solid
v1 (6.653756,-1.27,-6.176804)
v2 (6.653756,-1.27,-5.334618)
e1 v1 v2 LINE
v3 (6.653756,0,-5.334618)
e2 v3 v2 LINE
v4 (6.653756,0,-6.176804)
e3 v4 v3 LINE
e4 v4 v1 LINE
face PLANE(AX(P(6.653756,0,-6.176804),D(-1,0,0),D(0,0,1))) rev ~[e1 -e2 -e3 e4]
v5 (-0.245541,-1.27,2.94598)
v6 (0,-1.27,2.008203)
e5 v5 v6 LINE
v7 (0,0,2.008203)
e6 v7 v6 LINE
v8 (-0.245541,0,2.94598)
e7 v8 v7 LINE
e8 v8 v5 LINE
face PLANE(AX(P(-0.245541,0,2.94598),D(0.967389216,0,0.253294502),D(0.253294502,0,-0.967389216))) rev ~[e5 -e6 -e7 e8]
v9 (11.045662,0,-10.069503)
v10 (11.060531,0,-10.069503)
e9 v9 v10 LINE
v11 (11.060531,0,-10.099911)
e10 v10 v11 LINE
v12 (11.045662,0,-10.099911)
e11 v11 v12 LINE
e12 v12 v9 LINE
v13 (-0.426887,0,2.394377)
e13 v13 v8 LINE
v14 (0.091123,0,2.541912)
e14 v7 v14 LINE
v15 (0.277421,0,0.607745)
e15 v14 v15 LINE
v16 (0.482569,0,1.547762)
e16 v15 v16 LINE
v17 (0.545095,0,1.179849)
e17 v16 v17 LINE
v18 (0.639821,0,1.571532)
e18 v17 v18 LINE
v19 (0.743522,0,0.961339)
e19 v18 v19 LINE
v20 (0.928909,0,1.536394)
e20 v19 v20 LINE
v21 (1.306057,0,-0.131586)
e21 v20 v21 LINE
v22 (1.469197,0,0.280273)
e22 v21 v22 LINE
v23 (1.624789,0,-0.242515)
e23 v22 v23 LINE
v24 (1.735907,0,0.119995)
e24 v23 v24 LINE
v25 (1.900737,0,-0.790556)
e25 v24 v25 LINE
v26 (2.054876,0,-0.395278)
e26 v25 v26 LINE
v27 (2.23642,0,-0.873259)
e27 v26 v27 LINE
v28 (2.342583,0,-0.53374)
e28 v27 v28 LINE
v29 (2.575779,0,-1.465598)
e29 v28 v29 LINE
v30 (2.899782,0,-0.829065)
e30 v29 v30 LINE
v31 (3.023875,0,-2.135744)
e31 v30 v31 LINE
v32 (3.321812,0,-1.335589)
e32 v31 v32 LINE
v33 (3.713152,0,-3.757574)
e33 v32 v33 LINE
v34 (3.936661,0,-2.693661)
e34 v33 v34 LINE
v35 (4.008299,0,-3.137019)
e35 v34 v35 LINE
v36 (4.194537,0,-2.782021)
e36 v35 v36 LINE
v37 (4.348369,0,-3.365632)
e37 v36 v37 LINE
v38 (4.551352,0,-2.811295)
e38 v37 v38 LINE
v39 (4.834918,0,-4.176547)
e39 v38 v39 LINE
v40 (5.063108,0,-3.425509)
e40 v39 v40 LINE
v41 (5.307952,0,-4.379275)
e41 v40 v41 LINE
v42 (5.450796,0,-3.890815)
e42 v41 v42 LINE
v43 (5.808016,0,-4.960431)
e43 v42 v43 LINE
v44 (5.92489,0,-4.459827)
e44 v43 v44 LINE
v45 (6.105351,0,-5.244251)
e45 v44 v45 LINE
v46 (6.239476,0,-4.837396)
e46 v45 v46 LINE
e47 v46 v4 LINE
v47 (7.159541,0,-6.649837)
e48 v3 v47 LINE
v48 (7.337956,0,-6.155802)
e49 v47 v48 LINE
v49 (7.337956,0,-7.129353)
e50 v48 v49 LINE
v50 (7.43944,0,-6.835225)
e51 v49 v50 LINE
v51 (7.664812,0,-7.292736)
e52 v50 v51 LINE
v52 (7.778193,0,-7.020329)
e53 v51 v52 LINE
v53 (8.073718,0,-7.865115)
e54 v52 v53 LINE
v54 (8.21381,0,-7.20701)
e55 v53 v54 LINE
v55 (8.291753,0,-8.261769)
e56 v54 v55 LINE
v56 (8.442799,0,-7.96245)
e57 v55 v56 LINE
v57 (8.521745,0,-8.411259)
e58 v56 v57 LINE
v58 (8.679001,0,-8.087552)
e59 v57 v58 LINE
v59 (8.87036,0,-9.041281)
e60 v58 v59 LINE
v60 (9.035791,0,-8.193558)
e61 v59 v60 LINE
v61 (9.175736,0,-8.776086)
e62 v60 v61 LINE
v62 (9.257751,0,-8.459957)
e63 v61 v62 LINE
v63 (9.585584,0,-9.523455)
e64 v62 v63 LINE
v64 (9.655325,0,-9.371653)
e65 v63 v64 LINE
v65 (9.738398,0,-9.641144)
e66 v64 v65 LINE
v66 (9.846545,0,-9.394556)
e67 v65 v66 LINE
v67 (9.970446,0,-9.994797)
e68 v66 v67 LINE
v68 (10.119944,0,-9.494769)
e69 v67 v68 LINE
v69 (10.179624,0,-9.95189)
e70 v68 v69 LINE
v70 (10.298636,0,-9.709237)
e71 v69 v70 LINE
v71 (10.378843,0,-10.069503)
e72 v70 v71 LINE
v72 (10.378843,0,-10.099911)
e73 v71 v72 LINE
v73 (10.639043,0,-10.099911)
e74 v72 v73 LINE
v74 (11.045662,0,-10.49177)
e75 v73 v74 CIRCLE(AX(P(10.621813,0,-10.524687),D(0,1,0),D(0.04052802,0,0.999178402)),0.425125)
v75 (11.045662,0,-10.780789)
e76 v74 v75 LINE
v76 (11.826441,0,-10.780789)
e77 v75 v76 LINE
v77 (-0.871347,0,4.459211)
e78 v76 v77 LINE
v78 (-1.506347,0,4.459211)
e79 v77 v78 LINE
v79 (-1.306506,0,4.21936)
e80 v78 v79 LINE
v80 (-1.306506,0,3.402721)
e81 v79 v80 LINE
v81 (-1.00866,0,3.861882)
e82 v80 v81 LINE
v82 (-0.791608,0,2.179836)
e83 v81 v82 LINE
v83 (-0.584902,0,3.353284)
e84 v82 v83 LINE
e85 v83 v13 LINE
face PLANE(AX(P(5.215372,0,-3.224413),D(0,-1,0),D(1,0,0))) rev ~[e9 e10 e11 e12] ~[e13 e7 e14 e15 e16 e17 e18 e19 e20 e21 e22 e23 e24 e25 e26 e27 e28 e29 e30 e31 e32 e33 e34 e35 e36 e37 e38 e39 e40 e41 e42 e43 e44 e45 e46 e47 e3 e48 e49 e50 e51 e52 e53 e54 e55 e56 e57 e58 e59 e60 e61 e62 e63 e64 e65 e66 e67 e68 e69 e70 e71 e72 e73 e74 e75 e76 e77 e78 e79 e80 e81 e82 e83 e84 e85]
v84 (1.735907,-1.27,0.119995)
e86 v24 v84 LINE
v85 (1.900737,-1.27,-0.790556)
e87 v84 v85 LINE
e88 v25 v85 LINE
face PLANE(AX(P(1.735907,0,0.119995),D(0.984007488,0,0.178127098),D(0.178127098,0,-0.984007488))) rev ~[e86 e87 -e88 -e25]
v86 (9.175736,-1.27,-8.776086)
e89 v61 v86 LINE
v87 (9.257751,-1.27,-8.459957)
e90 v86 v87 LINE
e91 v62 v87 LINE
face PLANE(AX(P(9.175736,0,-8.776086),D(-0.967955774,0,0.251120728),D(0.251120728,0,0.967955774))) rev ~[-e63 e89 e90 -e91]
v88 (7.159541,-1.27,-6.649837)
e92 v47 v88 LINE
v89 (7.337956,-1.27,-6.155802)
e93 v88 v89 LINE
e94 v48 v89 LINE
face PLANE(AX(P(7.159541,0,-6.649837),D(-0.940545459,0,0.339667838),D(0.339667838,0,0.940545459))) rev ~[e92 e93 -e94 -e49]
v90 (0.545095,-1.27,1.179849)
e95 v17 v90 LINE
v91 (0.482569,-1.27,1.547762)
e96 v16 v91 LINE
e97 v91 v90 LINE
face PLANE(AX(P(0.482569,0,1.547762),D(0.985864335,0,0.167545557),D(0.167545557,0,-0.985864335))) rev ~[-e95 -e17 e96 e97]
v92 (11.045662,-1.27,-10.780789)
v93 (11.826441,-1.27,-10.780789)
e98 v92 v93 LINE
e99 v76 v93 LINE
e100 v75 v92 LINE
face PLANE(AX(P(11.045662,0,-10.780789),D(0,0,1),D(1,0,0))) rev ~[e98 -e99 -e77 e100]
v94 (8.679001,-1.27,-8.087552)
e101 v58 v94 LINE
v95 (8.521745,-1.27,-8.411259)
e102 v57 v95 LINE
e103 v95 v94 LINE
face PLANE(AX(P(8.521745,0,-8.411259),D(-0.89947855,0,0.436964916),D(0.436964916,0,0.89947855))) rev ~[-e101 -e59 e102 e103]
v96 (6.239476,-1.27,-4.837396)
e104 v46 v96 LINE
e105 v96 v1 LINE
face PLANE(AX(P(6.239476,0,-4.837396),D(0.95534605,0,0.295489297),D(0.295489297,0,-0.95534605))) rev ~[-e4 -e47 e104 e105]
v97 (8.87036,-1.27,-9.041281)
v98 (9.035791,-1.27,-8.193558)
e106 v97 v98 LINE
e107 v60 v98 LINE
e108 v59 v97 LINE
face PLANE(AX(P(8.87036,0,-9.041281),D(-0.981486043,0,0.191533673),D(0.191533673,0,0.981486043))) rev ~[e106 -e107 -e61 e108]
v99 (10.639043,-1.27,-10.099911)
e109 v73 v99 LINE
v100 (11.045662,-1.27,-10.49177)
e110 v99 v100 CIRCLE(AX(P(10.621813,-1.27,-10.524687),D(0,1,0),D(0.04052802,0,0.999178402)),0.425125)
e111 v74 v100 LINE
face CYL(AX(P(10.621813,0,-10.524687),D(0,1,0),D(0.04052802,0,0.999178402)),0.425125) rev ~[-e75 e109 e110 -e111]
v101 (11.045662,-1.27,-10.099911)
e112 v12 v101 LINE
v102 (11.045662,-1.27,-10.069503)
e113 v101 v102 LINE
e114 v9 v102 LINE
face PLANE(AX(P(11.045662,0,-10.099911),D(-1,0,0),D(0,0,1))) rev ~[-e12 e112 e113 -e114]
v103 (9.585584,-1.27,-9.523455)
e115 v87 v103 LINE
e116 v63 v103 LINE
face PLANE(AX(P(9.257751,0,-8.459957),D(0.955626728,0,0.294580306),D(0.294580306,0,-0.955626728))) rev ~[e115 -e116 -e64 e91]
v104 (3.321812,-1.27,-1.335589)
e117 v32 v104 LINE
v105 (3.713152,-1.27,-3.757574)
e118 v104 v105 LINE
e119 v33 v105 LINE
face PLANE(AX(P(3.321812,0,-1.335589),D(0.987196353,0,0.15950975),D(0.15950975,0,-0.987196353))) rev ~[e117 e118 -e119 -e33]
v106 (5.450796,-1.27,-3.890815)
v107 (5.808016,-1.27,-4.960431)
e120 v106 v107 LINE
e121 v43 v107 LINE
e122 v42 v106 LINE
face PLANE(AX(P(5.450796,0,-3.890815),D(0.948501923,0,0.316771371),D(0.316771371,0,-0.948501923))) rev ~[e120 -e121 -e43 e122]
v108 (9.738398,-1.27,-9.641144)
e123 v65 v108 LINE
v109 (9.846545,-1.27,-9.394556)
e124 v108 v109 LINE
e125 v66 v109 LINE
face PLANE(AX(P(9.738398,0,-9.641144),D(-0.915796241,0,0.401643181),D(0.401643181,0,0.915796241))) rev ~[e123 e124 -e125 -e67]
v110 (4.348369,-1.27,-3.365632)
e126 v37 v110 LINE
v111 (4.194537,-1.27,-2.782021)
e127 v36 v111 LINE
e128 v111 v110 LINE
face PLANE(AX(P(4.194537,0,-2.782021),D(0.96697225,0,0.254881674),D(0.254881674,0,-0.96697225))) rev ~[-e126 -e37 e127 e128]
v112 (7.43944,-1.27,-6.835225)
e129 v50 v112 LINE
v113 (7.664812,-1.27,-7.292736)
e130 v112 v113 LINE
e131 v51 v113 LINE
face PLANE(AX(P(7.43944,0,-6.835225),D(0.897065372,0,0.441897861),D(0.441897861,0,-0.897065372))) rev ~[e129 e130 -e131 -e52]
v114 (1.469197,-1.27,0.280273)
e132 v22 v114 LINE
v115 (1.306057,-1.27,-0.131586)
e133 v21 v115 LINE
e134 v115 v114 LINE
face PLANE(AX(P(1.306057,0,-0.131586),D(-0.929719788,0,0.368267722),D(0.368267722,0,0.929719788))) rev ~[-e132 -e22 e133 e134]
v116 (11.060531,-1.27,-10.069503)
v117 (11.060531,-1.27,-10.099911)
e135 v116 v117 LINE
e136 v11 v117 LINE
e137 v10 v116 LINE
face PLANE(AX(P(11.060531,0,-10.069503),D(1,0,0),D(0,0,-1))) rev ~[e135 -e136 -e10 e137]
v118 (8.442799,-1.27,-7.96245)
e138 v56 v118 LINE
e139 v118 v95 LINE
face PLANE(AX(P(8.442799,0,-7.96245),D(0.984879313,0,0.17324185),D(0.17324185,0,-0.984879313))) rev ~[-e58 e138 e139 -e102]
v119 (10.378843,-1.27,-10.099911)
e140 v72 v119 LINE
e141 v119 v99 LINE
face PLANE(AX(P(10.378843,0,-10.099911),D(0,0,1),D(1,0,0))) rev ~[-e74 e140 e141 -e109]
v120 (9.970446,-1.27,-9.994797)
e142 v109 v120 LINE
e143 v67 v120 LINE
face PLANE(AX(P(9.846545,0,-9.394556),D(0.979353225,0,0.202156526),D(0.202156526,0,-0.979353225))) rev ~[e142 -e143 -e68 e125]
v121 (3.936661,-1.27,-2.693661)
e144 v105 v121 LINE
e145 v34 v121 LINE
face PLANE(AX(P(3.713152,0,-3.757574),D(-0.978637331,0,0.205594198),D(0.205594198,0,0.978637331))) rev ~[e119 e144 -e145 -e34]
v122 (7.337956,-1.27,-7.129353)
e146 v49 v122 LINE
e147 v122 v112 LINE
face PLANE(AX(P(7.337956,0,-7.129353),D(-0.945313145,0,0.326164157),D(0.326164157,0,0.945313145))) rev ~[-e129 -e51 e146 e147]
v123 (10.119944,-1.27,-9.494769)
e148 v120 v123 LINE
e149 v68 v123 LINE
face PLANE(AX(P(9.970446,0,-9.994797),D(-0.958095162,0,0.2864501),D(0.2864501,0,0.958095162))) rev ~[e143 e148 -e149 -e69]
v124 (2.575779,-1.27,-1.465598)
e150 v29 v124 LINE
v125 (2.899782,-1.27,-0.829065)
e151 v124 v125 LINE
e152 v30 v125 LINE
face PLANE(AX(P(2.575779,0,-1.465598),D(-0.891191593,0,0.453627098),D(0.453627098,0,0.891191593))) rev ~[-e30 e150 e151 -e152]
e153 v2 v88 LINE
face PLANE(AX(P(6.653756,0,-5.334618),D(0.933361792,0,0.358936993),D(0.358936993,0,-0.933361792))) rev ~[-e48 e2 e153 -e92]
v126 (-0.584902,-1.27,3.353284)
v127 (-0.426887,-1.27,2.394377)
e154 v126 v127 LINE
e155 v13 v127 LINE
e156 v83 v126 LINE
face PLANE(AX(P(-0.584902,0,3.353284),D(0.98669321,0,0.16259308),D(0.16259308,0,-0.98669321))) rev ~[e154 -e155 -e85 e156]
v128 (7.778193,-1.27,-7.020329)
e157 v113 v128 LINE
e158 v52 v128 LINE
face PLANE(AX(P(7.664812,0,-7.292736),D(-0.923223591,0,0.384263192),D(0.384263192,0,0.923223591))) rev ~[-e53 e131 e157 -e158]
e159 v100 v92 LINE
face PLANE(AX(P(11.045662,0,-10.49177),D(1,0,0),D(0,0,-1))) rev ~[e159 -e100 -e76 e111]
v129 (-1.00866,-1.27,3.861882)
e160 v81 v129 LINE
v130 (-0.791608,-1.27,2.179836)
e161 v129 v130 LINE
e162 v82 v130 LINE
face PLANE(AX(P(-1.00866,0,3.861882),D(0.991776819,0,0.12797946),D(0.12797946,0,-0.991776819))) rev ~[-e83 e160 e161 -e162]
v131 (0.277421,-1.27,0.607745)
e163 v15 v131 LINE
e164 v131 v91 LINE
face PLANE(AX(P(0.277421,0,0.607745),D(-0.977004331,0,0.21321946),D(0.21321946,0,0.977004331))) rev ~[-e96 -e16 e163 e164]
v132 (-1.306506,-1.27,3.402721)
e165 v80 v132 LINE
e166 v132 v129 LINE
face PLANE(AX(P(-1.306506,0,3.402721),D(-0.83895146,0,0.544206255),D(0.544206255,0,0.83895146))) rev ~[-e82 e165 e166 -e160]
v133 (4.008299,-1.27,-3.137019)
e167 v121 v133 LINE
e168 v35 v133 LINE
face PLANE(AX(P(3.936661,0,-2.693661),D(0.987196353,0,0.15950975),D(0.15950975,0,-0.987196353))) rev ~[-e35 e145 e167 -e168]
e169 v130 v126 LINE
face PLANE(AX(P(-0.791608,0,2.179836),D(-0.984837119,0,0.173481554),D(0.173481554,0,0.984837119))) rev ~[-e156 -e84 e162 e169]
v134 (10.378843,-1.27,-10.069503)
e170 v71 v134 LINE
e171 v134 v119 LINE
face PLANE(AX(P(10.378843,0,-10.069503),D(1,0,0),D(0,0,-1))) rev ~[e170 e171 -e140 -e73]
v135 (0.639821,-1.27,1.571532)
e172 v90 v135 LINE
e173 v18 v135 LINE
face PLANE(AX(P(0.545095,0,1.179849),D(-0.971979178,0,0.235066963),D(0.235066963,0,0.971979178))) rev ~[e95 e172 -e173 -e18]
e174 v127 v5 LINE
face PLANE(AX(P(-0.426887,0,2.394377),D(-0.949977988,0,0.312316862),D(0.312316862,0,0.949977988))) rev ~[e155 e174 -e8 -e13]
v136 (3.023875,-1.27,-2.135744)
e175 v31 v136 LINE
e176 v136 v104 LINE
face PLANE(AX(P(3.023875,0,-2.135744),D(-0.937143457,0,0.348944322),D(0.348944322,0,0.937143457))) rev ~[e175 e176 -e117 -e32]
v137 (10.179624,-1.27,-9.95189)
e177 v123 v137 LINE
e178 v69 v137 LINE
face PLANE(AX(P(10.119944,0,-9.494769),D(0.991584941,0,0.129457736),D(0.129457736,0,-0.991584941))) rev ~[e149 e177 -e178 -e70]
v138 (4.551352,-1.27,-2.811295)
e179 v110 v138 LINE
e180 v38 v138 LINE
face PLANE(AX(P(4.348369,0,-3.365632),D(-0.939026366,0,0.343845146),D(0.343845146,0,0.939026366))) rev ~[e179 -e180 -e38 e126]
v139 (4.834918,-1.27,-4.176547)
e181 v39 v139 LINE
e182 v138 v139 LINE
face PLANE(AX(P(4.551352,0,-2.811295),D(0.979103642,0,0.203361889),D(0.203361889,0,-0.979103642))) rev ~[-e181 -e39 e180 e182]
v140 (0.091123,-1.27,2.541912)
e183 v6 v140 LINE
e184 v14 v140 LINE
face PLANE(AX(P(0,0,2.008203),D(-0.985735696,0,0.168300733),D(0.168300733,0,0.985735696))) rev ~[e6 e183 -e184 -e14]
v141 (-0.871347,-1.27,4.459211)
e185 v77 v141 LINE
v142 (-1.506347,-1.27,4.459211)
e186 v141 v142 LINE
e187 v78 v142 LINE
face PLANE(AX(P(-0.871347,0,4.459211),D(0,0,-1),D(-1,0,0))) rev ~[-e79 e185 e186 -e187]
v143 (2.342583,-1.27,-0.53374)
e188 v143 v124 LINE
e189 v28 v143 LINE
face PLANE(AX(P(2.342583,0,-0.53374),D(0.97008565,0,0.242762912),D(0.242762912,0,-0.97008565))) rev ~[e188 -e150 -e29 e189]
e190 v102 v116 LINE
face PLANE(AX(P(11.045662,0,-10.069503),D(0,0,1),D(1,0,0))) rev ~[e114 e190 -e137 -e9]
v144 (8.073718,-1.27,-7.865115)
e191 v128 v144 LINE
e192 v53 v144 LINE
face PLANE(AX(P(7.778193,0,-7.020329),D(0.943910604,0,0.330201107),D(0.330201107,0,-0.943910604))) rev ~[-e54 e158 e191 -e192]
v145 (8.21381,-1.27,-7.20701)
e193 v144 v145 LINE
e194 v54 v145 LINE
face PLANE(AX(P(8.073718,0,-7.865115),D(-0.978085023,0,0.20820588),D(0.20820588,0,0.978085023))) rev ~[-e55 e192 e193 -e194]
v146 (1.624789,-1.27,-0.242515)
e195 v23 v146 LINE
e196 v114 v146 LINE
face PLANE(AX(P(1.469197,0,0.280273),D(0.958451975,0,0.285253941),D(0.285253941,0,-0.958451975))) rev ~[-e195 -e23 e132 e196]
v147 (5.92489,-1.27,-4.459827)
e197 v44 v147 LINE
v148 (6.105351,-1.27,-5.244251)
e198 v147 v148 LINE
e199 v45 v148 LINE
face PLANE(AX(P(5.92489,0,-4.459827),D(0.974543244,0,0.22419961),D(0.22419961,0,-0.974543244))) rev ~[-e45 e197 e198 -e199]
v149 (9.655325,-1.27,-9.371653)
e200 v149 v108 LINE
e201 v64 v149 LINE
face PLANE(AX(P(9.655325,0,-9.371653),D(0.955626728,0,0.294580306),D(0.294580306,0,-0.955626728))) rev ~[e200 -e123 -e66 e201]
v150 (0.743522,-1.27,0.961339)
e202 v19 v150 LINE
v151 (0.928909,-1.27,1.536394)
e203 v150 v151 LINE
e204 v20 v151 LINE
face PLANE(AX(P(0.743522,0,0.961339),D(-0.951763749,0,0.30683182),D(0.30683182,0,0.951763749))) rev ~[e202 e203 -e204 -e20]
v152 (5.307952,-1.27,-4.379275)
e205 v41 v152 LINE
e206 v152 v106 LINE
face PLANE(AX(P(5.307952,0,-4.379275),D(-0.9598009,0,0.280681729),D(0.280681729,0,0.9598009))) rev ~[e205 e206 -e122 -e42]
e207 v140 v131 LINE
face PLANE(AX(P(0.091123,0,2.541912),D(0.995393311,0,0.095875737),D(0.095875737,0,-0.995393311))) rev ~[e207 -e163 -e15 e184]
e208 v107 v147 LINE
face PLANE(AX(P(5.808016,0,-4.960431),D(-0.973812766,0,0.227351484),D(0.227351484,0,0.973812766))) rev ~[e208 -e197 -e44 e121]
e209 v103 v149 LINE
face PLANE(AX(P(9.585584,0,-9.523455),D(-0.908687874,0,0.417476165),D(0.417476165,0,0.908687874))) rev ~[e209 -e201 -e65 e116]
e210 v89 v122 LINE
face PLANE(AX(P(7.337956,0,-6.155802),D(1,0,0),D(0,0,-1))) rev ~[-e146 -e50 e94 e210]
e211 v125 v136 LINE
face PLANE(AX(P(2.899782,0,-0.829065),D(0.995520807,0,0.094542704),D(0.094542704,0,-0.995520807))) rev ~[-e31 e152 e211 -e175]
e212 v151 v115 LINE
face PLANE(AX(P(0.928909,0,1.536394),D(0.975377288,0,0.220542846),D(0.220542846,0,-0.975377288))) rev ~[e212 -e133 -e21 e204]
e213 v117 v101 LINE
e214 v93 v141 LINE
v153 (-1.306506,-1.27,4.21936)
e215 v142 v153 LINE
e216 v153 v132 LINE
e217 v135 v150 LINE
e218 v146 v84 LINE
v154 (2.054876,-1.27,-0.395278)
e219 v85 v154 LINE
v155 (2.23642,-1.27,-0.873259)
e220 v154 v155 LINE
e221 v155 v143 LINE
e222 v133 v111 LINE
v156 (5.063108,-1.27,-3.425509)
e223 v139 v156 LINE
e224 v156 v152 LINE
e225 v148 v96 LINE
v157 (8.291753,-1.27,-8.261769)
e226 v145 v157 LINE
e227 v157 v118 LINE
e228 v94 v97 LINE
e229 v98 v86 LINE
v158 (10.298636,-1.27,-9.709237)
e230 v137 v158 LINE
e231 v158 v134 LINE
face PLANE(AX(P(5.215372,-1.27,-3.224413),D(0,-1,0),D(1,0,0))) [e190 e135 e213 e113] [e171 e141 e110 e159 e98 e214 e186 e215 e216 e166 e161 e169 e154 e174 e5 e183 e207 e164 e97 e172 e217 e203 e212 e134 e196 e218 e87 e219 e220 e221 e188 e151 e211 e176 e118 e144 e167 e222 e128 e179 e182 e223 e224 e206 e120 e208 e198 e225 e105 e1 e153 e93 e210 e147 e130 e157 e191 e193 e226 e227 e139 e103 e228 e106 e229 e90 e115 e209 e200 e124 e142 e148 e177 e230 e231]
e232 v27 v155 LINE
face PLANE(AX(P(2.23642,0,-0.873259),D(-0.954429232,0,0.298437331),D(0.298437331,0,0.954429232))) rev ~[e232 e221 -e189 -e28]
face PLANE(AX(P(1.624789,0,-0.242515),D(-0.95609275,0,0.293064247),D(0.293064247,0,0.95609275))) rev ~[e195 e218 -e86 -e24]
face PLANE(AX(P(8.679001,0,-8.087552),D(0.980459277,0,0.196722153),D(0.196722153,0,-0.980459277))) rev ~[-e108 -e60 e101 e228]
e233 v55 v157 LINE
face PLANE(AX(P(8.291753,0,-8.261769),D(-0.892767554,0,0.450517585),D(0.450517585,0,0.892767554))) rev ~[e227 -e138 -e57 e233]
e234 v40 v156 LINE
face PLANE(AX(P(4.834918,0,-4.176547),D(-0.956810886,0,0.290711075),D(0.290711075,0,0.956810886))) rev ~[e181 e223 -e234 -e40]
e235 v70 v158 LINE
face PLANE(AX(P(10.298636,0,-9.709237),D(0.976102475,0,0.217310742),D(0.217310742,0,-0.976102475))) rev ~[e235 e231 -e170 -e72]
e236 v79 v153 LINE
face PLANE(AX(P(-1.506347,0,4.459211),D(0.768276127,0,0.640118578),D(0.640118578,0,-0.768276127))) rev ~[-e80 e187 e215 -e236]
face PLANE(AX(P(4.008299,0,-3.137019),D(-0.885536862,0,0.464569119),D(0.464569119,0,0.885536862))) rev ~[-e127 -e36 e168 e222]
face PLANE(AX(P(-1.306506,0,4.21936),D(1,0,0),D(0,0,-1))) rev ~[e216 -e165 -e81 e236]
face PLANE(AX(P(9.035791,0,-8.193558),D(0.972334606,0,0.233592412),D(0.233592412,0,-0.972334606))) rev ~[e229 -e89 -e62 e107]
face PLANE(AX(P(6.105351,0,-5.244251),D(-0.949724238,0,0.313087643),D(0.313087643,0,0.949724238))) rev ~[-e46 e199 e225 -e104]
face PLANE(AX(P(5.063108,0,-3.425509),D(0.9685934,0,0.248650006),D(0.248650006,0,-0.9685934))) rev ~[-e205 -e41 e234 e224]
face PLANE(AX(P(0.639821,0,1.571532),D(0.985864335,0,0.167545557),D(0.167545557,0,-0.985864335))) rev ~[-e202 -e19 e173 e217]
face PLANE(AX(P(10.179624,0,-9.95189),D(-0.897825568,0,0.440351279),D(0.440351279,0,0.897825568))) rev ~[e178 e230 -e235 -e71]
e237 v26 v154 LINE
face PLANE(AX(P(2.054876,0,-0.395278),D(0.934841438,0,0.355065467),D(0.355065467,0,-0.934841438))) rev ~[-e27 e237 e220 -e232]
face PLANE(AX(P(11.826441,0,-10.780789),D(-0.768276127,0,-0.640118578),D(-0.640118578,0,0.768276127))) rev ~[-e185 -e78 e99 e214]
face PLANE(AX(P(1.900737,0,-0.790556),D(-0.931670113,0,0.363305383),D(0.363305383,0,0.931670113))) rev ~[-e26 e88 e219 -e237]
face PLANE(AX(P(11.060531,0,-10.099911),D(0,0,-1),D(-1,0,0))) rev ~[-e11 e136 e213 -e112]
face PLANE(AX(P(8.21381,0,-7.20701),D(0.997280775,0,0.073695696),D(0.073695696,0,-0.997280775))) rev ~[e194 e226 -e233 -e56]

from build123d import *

# Parameters (mm, degrees)
F1_DEPTH = 1.27


with BuildPart() as f1:
    # F0 (on Front) → F1 (new body)
    with BuildSketch(Plane.XZ):
        Polygon((11.8264406887, -10.7807891433), (-0.8713469764, 4.4592108567), (-1.5063469764, 4.4592108567), (-1.3065064559, 4.2193604502), (-1.0086600117, 3.8618824447), (-0.5849018199, 3.3532840169), (-0.2455411144, 2.9459802181), (0.0911234886, 2.541912306), (0.573246897, 1.9632634155), (0.928909441, 1.5363940023), (1.6323374241, 0.6921333527), (2.2090147436, 0), (2.8997819306, -0.8290650473), (3.321811547, -1.3355888232), (4.0407046407, -2.1984108389), (4.5513520585, -2.8112945043), (5.0631082221, -3.4255088966), (5.4507959484, -3.8908152243), (5.9248896017, -4.4598267298), (6.2394758554, -4.8373960067), (6.6537557336, -5.3346184765), (7.3379562236, -6.1558021144), (7.575495537, -6.4408989541), (8.2138098271, -7.2070095585), (8.5938442703, -7.6631303464), (9.035790701, -8.1935584635), (9.2577511046, -8.4599573544), (9.7840033839, -9.0915701163), (10.1199439716, -9.4947690587), (10.2986362516, -9.7092371549), (10.5988050888, -10.0695025176), (11.0456617549, -10.0695025176), (11.0605312511, -10.0695025176), (11.0605312511, -10.099911131), (11.0605312511, -10.1845458375), (11.0605312511, -10.2025323822), (11.0605312511, -10.7807891433), (11.1914406887, -10.7807891433), (11.2468553707, -10.7807891433), align=None)
        Polygon((-1.0086600117, 3.8618824447), (-1.3065064559, 4.2193604502), (-1.3065064559, 3.4027206711), align=None)
        Polygon((-0.5849018199, 3.3532840169), (-1.0086600117, 3.8618824447), (-0.7916077157, 2.1798356902), align=None)
        with BuildLine():
            Line((11.0456617549, -10.7807891433), (11.0605312511, -10.7807891433))
            Line((11.0605312511, -10.7807891433), (11.0605312511, -10.2025323822))
            Line((11.0605312511, -10.2025323822), (11.0605312511, -10.1845458375))
            Line((11.0605312511, -10.1845458375), (11.0605312511, -10.099911131))
            Line((11.0605312511, -10.099911131), (11.0456617549, -10.099911131))
            Line((11.0456617549, -10.099911131), (11.0456617549, -10.4917703344))
            ThreePointArc((11.0456617549, -10.4917703344), (11.0469379879, -10.5246867127), (11.0456617549, -10.557603091))
            Line((11.0456617549, -10.557603091), (11.0456617549, -10.7807891433))
        make_face()
        Polygon((-0.2455411144, 2.9459802181), (-0.5849018199, 3.3532840169), (-0.4268874764, 2.3943767883), align=None)
        Polygon((0.0911234886, 2.541912306), (-0.2455411144, 2.9459802181), (0, 2.0082029514), align=None)
        with BuildLine():
            Line((11.0456617549, -10.4917703344), (11.0456617549, -10.557603091))
            ThreePointArc((11.0456617549, -10.557603091), (11.0469379879, -10.5246867127), (11.0456617549, -10.4917703344))
        make_face()
        Polygon((0.573246897, 1.9632634155), (0.0911234886, 2.541912306), (0.277421379, 0.6077454309), (0.4825687985, 1.5477624331), align=None)
        with BuildLine():
            ThreePointArc((10.6390425935, -10.099911131), (10.9168146182, -10.2185735503), (11.0456617549, -10.4917703344))
            Line((11.0456617549, -10.4917703344), (11.0456617549, -10.099911131))
            Line((11.0456617549, -10.099911131), (10.6390425935, -10.099911131))
        make_face()
        Polygon((0.928909441, 1.5363940023), (0.573246897, 1.9632634155), (0.6398208604, 1.5715317733), (0.7435218431, 0.9613389266), align=None)
        Polygon((0.6398208604, 1.5715317733), (0.573246897, 1.9632634155), (0.4825687985, 1.5477624331), (0.5450948966, 1.1798490652), align=None)
        Polygon((10.6390425935, -10.099911131), (11.0456617549, -10.099911131), (11.0456617549, -10.0695025176), (10.5988050888, -10.0695025176), (10.6241411856, -10.099911131), align=None)
        Polygon((1.6323374241, 0.6921333527), (0.928909441, 1.5363940023), (1.3060569763, -0.1315863774), (1.4691972002, 0.2802734877), align=None)
        Polygon((10.3788425163, -10.099911131), (10.6241411856, -10.099911131), (10.5988050888, -10.0695025176), (10.3788425163, -10.0695025176), align=None)
        Polygon((2.2090147436, 0), (1.6323374241, 0.6921333527), (1.7359070743, 0.1199951858), (1.900736941, -0.7905559032), (2.0548758423, -0.3952779516), align=None)
        Polygon((1.7359070743, 0.1199951858), (1.6323374241, 0.6921333527), (1.4691972002, 0.2802734877), (1.6247893218, -0.2425153507), align=None)
        Polygon((10.3788425163, -10.0695025176), (10.5988050888, -10.0695025176), (10.2986362516, -9.7092371549), align=None)
        Polygon((2.8997819306, -0.8290650473), (2.2090147436, 0), (2.3425826603, -0.5337401752), (2.5757791009, -1.4655980049), align=None)
        Polygon((2.3425826603, -0.5337401752), (2.2090147436, 0), (2.0548758423, -0.3952779516), (2.2364195902, -0.8732591523), align=None)
        Polygon((10.1796239614, -9.9518895149), (10.2986362516, -9.7092371549), (10.1199439716, -9.4947690587), align=None)
        Polygon((3.321811547, -1.3355888232), (2.8997819306, -0.8290650473), (3.0238747131, -2.1357438527), align=None)
        Polygon((9.9704461172, -9.9947974086), (10.1199439716, -9.4947690587), (9.7840033839, -9.0915701163), (9.8473794647, -9.3926533487), (9.8465451714, -9.3945556409), align=None)
        Polygon((4.0407046407, -2.1984108389), (3.321811547, -1.3355888232), (3.7131523713, -3.757573897), (3.9366614966, -2.6936607331), align=None)
        Polygon((9.8465451714, -9.3945556409), (9.7840033839, -9.0915701163), (9.6553254332, -9.3716533956), (9.7383982677, -9.6411439871), align=None)
        Polygon((9.6553254332, -9.3716533956), (9.7840033839, -9.0915701163), (9.2577511046, -8.4599573544), (9.5855835825, -9.5234550536), align=None)
        Polygon((9.8473794647, -9.3926533487), (9.7840033839, -9.0915701163), (9.8465451714, -9.3945556409), align=None)
        Polygon((4.5513520585, -2.8112945043), (4.0407046407, -2.1984108389), (4.194536978, -2.7820212599), (4.3483693153, -3.3656316809), align=None)
        Polygon((4.194536978, -2.7820212599), (4.0407046407, -2.1984108389), (3.9366614966, -2.6936607331), (4.0082986512, -3.1370188198), align=None)
        Polygon((9.1757364571, -8.7760863826), (9.2577511046, -8.4599573544), (9.035790701, -8.1935584635), align=None)
        Polygon((5.0631082221, -3.4255088966), (4.5513520585, -2.8112945043), (4.8349178396, -4.1765468195), align=None)
        Polygon((8.8703604415, -9.041281417), (9.035790701, -8.1935584635), (8.5938442703, -7.6631303464), (8.6790014305, -8.0875519305), align=None)
        Polygon((5.4507959484, -3.8908152243), (5.0631082221, -3.4255088966), (5.3079519421, -4.3792752549), align=None)
        Polygon((8.6790014305, -8.0875519305), (8.5938442703, -7.6631303464), (8.4427986396, -7.9624497125), (8.5217449814, -8.4112593904), align=None)
        Polygon((8.4427986396, -7.9624497125), (8.5938442703, -7.6631303464), (8.2138098271, -7.2070095585), (8.291753009, -8.2617690787), align=None)
        Polygon((5.9248896017, -4.4598267298), (5.4507959484, -3.8908152243), (5.8080158196, -4.9604312517), align=None)
        Polygon((8.0737182871, -7.8651150689), (8.2138098271, -7.2070095585), (7.575495537, -6.4408989541), (7.7781930442, -7.0203286494), align=None)
        Polygon((6.2394758554, -4.8373960067), (5.9248896017, -4.4598267298), (6.1053512618, -5.2442513406), align=None)
        Polygon((7.7781930442, -7.0203286494), (7.575495537, -6.4408989541), (7.4394400226, -6.8352251344), (7.6648117974, -7.2927363217), align=None)
        Polygon((7.4394400226, -6.8352251344), (7.575495537, -6.4408989541), (7.3379562236, -6.1558021144), (7.3379562236, -7.1293530054), align=None)
        Polygon((6.6537557336, -5.3346184765), (6.2394758554, -4.8373960067), (6.6537557336, -6.1768037267), align=None)
        Polygon((7.1595408954, -6.6498368979), (7.3379562236, -6.1558021144), (6.6537557336, -5.3346184765), align=None)
    extrude(amount=F1_DEPTH)


solid = f1.part
